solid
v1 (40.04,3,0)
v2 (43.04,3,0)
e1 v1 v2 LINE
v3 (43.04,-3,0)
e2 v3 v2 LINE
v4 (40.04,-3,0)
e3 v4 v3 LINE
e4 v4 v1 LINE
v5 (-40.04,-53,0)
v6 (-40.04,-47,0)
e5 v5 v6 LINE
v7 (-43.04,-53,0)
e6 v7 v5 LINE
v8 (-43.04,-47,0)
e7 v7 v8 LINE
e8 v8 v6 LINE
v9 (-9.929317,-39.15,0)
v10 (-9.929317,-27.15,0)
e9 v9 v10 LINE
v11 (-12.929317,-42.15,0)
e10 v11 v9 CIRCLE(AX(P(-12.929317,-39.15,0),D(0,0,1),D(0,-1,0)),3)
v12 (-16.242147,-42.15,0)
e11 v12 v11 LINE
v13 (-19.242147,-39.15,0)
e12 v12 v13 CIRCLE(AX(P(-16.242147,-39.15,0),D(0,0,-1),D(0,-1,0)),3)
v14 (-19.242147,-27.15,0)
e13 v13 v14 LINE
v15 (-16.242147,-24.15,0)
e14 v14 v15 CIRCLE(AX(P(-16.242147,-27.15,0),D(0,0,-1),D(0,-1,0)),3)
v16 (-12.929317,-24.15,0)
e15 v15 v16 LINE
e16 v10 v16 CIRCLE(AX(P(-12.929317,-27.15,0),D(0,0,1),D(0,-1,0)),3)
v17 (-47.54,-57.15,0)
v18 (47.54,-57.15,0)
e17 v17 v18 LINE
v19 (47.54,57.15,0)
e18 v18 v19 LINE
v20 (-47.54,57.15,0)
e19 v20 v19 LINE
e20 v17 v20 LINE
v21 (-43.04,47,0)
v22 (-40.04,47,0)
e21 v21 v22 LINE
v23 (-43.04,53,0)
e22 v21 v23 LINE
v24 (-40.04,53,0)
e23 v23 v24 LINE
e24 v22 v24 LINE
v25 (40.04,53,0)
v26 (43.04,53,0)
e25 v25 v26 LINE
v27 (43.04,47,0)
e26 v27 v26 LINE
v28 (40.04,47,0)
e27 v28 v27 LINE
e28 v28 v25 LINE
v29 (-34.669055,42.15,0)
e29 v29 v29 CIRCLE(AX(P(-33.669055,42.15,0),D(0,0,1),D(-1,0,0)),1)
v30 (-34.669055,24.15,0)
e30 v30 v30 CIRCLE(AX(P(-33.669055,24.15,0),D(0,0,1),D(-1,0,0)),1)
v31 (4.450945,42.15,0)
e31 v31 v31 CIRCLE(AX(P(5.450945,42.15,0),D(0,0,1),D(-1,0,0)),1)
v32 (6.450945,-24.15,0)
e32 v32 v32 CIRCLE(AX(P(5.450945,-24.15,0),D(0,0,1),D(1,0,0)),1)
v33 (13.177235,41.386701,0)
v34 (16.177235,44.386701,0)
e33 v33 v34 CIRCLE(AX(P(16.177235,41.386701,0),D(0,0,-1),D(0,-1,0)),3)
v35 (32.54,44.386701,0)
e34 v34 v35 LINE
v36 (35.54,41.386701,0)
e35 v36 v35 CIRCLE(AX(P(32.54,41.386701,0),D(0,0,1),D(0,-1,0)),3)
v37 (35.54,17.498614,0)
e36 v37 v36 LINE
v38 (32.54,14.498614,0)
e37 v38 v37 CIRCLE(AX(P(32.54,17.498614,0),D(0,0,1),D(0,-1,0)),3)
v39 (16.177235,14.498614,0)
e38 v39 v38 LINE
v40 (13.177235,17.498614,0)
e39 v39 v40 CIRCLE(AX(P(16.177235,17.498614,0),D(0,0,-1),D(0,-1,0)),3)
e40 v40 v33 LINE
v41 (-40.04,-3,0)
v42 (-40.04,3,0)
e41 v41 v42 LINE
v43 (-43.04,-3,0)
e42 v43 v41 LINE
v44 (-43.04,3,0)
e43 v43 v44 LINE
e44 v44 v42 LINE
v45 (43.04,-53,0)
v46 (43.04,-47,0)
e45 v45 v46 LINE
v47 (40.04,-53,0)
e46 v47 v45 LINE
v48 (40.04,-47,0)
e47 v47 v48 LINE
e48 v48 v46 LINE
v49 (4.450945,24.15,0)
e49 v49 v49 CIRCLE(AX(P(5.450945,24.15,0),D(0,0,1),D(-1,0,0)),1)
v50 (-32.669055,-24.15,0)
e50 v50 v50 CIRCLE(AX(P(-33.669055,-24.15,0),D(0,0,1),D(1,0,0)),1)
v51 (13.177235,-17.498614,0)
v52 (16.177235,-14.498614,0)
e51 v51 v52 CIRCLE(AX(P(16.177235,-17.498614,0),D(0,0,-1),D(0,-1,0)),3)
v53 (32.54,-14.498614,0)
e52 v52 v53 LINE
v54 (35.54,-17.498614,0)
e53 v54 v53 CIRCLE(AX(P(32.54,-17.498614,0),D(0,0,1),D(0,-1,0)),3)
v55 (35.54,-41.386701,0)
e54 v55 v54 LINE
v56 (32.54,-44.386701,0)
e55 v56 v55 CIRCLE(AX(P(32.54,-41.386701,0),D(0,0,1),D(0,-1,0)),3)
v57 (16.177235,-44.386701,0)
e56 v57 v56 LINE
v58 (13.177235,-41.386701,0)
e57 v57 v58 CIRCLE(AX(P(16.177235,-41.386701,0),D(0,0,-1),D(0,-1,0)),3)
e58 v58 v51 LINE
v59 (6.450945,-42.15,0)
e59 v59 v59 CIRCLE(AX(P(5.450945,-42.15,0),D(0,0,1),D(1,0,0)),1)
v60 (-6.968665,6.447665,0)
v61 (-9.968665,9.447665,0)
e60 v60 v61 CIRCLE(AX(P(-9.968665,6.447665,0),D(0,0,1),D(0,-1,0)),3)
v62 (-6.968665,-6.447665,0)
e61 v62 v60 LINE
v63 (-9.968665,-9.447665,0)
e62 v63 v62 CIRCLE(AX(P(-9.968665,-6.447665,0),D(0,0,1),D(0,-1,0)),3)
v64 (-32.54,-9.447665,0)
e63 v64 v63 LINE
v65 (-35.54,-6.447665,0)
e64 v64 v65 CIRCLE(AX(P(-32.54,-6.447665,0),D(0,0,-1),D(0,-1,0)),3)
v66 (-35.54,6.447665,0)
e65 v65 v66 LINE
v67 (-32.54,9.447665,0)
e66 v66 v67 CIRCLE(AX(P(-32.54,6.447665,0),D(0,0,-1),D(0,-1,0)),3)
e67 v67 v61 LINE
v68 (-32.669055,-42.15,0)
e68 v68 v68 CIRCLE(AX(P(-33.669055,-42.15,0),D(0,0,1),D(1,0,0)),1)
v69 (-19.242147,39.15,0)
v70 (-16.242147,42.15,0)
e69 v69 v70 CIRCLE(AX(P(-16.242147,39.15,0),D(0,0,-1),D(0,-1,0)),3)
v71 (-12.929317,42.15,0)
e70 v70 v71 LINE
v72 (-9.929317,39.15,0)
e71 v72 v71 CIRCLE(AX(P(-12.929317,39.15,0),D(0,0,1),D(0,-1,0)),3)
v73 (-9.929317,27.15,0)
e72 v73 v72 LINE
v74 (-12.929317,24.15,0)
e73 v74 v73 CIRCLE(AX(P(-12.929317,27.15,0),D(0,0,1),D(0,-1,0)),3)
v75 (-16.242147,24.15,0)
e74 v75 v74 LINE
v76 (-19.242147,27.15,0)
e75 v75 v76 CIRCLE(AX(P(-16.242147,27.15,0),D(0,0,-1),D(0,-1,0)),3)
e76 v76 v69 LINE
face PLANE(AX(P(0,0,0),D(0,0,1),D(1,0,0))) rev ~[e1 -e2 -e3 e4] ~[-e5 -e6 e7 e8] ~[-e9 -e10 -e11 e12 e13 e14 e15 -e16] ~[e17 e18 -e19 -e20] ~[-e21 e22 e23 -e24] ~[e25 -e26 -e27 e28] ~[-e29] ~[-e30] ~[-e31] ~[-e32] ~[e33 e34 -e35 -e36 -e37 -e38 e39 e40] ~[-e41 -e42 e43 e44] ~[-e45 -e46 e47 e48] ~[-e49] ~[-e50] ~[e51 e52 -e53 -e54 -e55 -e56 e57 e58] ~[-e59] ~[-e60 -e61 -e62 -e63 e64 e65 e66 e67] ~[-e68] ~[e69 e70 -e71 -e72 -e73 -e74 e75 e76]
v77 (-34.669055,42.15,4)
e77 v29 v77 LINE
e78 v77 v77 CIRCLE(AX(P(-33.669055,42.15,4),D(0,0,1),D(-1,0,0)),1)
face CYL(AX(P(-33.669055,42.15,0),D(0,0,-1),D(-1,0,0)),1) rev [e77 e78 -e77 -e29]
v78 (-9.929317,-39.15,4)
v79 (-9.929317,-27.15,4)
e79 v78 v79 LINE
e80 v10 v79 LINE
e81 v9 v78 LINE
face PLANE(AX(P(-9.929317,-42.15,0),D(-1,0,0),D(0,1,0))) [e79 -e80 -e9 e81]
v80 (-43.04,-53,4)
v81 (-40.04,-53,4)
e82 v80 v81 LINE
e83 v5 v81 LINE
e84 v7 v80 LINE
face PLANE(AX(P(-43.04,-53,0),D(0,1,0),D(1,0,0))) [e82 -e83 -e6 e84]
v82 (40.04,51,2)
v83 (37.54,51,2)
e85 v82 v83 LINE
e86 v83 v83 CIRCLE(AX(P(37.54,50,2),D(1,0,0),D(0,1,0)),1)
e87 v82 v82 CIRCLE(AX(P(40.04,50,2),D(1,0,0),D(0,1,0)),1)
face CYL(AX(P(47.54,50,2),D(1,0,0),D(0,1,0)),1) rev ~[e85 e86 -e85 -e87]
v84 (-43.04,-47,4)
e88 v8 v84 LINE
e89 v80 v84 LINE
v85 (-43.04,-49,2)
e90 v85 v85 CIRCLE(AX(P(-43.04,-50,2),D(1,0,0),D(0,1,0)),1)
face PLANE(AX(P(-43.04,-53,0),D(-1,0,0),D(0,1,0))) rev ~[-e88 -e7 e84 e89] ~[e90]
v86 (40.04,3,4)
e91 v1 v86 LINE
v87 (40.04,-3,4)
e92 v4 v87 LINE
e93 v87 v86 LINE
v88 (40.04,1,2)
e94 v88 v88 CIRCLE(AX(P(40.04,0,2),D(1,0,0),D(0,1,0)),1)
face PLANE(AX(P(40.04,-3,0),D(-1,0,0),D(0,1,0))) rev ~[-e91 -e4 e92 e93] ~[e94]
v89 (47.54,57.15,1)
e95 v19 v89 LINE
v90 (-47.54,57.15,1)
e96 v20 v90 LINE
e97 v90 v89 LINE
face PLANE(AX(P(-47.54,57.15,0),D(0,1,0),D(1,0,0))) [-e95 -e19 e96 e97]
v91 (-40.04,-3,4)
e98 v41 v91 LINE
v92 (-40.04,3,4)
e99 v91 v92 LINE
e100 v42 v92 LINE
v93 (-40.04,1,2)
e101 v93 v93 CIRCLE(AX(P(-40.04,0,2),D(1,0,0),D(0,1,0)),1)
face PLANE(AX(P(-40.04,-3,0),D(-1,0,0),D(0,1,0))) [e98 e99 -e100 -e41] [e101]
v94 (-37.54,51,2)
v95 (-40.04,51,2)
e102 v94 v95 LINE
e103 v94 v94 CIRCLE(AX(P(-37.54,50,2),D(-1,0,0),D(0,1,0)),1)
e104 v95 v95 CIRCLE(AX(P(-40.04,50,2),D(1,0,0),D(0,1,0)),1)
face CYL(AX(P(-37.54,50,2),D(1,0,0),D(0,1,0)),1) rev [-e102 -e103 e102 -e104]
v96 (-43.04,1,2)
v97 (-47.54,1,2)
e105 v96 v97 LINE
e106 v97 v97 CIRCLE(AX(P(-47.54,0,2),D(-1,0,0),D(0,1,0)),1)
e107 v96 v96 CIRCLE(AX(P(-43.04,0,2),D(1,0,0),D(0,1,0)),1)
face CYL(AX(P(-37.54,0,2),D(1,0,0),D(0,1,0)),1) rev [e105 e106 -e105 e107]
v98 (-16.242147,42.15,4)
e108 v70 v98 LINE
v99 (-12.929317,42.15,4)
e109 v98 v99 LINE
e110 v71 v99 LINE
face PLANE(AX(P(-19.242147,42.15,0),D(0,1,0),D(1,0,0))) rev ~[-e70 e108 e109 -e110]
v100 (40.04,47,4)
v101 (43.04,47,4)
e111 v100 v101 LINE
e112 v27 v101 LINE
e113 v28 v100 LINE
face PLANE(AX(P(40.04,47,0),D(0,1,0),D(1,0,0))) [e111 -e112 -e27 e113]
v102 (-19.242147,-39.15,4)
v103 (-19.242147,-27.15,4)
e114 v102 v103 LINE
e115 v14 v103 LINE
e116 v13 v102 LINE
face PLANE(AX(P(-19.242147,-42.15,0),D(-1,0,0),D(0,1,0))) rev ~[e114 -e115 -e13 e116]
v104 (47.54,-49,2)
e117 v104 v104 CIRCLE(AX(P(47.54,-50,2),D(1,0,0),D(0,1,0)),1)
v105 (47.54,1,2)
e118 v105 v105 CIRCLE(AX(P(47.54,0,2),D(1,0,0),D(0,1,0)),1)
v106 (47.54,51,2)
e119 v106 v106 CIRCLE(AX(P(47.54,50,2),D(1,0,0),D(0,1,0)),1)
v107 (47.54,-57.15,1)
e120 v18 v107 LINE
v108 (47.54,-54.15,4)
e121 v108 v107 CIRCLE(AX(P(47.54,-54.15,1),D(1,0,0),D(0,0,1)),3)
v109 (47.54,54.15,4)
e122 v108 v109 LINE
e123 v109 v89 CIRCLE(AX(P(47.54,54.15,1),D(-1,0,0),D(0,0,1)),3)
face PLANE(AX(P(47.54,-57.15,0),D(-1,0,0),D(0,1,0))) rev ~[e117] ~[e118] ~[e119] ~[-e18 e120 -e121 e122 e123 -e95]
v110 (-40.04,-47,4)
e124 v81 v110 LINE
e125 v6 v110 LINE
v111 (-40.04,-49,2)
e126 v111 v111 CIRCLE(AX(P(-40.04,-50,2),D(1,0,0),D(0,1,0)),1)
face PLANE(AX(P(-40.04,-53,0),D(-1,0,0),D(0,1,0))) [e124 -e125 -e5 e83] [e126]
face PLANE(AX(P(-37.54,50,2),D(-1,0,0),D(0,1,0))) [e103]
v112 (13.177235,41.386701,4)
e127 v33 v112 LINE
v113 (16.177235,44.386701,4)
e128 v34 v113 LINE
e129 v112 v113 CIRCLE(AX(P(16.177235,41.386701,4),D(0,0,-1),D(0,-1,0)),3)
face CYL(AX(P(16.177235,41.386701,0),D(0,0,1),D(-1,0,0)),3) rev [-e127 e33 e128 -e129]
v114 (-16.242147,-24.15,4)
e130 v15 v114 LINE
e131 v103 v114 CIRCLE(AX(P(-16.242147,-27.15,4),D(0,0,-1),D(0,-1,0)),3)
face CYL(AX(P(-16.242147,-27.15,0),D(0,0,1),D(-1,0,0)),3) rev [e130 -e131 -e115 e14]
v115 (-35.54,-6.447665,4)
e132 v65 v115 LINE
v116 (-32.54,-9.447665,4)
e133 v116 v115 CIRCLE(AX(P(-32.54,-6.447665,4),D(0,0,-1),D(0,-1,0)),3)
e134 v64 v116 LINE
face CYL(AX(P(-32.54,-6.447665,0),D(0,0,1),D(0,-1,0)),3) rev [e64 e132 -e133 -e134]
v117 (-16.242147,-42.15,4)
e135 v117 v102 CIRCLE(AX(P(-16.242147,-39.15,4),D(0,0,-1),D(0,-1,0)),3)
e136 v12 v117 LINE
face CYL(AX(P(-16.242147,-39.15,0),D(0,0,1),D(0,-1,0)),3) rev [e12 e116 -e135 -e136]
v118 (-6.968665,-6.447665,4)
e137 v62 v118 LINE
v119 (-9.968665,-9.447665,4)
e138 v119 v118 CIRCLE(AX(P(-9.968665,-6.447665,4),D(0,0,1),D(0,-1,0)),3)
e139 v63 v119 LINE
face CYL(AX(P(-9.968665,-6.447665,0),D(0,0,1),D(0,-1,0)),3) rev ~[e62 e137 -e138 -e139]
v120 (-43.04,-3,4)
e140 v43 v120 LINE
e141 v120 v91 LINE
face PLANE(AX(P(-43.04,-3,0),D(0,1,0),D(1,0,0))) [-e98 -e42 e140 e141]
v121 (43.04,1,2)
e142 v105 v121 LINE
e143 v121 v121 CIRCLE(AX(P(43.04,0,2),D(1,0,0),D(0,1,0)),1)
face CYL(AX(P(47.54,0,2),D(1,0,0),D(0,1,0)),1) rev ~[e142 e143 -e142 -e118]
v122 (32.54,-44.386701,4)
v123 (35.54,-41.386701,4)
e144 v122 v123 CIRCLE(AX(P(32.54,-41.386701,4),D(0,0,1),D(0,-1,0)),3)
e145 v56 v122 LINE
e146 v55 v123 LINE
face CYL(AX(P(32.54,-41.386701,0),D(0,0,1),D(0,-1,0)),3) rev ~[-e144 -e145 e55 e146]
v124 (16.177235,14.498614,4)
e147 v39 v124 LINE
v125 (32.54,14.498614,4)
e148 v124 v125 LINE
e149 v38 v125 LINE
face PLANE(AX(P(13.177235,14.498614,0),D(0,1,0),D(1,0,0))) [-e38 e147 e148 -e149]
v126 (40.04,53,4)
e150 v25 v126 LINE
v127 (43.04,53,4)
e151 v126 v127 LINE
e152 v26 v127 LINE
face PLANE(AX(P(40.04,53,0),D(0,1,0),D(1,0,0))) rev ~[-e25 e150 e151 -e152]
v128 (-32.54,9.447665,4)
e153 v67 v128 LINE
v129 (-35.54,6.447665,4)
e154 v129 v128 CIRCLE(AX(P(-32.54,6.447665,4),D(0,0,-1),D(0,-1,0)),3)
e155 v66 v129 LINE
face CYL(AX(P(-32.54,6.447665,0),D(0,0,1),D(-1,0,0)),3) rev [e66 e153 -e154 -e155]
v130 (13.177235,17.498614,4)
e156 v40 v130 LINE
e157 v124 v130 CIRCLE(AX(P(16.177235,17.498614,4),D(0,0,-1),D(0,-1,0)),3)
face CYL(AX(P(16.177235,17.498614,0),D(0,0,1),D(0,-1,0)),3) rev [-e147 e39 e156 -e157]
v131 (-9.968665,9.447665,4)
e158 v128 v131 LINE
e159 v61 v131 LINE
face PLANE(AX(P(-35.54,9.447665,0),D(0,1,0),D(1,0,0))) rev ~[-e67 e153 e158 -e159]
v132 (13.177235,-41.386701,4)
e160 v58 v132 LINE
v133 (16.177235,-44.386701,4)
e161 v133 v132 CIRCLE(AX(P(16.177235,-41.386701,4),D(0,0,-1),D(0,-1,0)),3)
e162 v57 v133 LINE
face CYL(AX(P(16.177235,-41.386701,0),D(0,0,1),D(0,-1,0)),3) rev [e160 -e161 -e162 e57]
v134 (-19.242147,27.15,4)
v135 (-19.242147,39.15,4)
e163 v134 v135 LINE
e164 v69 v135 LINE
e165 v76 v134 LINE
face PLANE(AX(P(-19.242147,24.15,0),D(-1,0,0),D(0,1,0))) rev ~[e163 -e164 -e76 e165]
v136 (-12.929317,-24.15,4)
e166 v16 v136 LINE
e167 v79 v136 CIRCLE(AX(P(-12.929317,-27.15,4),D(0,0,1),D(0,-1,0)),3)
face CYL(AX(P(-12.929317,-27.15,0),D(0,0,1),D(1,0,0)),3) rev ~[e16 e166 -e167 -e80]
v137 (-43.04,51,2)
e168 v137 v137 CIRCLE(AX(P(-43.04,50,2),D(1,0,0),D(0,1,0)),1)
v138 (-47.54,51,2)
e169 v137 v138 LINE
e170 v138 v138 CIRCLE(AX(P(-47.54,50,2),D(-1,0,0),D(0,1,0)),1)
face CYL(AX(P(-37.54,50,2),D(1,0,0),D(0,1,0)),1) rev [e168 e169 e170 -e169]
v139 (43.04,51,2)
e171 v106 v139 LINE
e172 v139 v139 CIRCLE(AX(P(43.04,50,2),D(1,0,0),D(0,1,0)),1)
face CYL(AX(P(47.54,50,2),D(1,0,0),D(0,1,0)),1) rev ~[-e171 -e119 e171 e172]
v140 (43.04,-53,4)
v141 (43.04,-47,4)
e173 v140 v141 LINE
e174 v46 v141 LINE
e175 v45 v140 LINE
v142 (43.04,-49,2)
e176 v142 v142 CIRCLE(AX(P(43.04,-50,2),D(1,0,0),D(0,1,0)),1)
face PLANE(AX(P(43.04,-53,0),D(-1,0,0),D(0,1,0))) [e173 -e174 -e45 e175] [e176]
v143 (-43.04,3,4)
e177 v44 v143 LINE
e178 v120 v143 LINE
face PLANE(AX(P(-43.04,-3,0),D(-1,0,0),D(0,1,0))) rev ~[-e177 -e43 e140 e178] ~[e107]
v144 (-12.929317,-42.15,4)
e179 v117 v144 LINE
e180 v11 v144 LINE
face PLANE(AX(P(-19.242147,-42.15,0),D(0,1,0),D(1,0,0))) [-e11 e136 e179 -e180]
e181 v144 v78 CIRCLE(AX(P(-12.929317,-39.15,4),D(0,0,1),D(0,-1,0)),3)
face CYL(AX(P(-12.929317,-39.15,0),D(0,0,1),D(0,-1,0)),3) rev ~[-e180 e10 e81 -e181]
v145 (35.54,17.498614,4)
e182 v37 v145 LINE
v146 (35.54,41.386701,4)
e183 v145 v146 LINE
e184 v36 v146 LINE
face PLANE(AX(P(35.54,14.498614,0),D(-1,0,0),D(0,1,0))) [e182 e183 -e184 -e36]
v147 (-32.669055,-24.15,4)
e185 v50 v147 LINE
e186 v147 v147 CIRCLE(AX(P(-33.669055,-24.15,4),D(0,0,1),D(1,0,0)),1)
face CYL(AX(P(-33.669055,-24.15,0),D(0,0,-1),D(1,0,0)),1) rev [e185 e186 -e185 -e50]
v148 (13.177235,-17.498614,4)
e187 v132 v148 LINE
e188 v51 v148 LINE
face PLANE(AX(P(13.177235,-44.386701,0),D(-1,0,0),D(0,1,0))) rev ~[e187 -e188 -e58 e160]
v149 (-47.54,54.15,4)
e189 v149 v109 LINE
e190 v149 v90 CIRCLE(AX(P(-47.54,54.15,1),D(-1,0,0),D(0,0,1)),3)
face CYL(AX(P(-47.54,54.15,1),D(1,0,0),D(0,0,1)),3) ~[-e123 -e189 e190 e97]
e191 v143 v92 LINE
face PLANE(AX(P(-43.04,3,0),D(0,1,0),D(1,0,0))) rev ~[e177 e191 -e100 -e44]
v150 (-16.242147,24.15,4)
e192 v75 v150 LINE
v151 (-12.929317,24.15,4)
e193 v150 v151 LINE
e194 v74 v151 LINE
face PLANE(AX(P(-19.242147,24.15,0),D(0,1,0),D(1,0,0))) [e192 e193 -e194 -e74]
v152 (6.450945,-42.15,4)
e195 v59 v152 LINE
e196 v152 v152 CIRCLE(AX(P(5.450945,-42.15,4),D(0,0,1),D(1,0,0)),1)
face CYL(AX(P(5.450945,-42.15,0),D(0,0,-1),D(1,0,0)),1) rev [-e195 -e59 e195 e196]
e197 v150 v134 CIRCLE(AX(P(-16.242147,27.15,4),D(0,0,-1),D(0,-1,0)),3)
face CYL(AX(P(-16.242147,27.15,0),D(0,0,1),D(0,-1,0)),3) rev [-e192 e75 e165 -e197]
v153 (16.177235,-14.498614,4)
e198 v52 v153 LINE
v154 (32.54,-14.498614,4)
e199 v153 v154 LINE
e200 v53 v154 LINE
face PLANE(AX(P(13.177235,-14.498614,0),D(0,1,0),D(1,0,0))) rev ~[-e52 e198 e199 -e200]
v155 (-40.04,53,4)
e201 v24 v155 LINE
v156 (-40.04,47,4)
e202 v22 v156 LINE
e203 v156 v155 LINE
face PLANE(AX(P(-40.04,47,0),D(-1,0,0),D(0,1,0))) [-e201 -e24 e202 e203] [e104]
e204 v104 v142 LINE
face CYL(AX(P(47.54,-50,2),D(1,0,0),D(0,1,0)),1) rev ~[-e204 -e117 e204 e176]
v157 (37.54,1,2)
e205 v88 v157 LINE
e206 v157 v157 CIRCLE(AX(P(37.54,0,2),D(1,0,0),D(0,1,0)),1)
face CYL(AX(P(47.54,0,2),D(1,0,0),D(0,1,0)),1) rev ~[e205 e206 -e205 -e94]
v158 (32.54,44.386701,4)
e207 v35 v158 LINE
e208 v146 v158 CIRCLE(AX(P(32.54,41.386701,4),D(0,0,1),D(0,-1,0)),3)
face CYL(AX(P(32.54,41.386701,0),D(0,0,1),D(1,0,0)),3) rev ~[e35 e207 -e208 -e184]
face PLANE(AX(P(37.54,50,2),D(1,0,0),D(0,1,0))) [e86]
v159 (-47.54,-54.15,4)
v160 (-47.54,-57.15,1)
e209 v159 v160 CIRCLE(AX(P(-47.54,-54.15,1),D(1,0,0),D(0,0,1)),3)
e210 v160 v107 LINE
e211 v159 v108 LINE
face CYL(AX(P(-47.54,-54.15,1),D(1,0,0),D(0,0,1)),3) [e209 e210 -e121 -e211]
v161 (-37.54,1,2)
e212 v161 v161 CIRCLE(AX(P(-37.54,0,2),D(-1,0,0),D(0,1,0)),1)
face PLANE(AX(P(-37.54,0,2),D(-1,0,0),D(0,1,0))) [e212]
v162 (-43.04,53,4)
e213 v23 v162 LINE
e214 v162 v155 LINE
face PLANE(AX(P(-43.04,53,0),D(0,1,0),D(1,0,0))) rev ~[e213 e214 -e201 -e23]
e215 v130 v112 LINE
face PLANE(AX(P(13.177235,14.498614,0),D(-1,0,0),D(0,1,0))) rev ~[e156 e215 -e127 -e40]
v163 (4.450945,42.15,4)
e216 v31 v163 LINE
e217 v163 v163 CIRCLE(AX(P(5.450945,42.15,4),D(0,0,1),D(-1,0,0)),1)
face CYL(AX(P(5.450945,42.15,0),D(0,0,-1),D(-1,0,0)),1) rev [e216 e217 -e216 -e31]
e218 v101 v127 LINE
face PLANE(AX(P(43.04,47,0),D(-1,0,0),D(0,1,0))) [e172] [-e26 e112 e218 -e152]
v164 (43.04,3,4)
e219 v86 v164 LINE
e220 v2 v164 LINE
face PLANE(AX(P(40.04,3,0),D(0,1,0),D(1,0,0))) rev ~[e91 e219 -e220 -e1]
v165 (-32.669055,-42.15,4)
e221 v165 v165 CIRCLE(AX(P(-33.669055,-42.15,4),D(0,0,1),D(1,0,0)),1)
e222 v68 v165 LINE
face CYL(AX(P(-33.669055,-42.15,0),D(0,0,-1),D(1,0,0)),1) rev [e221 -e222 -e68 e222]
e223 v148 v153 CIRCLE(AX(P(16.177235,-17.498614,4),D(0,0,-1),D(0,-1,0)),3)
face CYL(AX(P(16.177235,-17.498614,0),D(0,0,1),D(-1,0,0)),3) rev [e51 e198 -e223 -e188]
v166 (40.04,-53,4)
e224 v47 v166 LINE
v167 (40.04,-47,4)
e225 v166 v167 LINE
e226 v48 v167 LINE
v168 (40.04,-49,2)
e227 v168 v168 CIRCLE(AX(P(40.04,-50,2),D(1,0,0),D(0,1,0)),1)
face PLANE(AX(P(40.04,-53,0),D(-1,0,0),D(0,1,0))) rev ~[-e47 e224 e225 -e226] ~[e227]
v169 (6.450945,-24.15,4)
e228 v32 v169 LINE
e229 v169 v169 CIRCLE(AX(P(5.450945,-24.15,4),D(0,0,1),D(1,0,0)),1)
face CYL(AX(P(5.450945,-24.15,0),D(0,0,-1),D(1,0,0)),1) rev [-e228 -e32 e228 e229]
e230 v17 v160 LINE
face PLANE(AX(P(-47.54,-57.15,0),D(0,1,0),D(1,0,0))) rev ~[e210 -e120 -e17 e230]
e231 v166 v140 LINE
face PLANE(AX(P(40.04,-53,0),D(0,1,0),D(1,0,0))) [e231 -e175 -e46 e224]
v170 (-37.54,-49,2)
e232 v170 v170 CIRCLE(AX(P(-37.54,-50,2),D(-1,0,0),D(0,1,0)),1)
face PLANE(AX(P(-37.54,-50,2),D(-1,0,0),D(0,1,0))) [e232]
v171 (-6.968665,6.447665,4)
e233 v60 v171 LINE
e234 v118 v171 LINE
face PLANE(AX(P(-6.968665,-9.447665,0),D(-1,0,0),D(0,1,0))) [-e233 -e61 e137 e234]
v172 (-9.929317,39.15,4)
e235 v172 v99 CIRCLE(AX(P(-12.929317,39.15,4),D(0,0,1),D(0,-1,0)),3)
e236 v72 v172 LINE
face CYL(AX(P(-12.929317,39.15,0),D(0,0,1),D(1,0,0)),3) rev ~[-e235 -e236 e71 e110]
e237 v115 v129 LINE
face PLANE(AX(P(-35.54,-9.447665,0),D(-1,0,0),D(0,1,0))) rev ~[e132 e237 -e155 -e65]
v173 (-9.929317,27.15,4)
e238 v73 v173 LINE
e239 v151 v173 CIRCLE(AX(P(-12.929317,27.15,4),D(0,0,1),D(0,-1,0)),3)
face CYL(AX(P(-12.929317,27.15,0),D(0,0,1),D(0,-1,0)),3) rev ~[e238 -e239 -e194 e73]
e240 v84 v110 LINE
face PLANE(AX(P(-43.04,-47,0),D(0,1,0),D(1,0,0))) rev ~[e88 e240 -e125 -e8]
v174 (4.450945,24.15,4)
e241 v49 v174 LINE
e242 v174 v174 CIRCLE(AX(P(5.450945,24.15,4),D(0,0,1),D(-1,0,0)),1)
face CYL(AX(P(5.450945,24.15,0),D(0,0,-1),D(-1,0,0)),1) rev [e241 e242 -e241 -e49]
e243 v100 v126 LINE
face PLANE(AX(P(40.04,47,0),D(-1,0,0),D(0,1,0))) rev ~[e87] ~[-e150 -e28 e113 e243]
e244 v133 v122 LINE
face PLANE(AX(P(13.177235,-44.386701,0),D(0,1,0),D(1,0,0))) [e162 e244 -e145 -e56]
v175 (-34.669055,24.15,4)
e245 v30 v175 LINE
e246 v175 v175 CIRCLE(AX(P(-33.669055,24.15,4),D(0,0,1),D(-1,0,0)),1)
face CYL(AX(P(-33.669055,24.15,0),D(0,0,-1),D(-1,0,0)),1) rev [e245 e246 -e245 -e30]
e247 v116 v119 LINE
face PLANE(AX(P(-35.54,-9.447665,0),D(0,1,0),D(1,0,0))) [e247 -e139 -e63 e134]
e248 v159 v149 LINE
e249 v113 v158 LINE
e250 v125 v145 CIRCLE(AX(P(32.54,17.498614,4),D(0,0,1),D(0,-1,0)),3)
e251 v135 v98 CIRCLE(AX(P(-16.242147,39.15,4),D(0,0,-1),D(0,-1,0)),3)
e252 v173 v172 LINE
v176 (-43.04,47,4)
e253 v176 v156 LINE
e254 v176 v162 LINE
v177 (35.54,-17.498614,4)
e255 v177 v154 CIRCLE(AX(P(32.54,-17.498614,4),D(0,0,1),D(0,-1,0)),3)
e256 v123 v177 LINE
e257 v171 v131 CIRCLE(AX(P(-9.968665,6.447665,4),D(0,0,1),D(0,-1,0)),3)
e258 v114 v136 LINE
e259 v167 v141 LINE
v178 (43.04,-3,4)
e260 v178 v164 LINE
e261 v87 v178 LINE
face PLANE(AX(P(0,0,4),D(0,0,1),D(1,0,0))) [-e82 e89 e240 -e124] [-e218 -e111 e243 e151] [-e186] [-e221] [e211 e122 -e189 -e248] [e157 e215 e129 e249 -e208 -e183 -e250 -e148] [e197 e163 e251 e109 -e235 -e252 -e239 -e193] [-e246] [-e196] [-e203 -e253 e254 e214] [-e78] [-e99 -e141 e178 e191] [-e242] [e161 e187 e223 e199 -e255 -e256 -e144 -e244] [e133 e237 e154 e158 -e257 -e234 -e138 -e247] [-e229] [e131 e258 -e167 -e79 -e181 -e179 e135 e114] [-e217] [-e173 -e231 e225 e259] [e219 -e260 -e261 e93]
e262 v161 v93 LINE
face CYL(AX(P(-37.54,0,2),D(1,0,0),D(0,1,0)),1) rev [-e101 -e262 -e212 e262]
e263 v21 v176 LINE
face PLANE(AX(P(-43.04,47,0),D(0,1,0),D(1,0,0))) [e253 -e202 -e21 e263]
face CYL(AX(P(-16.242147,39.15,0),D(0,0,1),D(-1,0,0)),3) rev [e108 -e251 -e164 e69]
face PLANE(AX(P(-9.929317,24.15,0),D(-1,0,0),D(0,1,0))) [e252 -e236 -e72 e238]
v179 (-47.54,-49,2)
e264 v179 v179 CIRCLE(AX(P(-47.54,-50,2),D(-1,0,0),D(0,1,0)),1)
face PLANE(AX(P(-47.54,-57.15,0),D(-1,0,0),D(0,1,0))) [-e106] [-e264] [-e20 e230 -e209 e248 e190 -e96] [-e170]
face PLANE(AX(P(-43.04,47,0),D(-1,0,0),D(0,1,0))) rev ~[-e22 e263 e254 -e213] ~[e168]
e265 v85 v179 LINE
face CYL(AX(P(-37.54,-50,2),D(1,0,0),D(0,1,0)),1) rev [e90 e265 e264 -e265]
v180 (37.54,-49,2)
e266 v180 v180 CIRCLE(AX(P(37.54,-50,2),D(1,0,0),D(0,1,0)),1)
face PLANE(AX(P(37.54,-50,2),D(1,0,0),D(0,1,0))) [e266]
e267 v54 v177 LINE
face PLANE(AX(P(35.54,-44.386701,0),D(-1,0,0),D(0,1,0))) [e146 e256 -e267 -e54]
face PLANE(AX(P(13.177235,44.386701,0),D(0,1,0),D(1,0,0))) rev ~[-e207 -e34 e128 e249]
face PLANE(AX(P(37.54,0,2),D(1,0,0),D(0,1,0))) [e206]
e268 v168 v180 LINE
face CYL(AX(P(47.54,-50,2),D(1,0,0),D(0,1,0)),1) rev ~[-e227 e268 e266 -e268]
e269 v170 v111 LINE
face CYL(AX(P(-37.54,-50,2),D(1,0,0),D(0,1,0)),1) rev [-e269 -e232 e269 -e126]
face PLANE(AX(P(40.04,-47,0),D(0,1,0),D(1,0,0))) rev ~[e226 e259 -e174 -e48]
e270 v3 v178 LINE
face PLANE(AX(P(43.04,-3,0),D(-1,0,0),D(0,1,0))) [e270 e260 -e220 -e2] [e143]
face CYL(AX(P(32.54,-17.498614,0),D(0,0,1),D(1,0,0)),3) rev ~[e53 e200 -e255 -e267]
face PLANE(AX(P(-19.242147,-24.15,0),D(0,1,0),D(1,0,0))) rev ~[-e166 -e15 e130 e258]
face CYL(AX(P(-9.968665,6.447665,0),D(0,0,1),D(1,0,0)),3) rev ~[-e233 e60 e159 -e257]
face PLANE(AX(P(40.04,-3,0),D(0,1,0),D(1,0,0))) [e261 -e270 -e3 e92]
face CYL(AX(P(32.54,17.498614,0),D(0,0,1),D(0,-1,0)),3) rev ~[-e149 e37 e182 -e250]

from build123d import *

# Parameters (mm, degrees)
ESQUISSE2_W             = 95.08
ESQUISSE2_H             = 114.3
ESQUISSE2_R             = 1
ESQUISSE2_W_2           = 22.362765252
ESQUISSE2_H_2           = 29.888087148
ESQUISSE2_W_3           = 9.312830524
ESQUISSE2_H_3           = 18
ESQUISSE2_W_4           = 28.571334831
ESQUISSE2_H_4           = 18.895330988
ESQUISSE2_W_5           = 3
ESQUISSE2_H_5           = 6
BOSS_EXTRU_1_DEPTH      = 4
CONG_1_R                = 3
ESQUISSE3_R             = 1
ENL_V_MAT_EXTRU_1_DEPTH = 10
ENL_V_START             = -10
ESQUISSE4_R             = 1
ENL_V_MAT_EXTRU_2_DEPTH = 10
CONG_2_R                = 3


with BuildPart() as part:
    # Esquisse2 → Boss.-Extru.1 (new body)
    with BuildSketch(Plane.XY):
        Rectangle(ESQUISSE2_W, ESQUISSE2_H)
        with Locations((-33.669054573, -42.15)):
            Circle(ESQUISSE2_R, mode=Mode.SUBTRACT)
        with Locations((5.450945427, -42.15)):
            Circle(ESQUISSE2_R, mode=Mode.SUBTRACT)
        with Locations((5.450945427, -24.15)):
            Circle(ESQUISSE2_R, mode=Mode.SUBTRACT)
        with Locations((-33.669054573, -24.15)):
            Circle(ESQUISSE2_R, mode=Mode.SUBTRACT)
        with Locations(Location((-33.669054573, 24.15, 0), (0, 0, 180))):
            Circle(ESQUISSE2_R, mode=Mode.SUBTRACT)
        with Locations(Location((5.450945427, 24.15, 0), (0, 0, 180))):
            Circle(ESQUISSE2_R, mode=Mode.SUBTRACT)
        with Locations(Location((5.450945427, 42.15, 0), (0, 0, 180))):
            Circle(ESQUISSE2_R, mode=Mode.SUBTRACT)
        with Locations(Location((-33.669054573, 42.15, 0), (0, 0, 180))):
            Circle(ESQUISSE2_R, mode=Mode.SUBTRACT)
        with Locations((24.358617374, 29.442657314)):
            Rectangle(ESQUISSE2_W_2, ESQUISSE2_H_2, mode=Mode.SUBTRACT)
        with Locations((-14.585732185, 33.15)):
            Rectangle(ESQUISSE2_W_3, ESQUISSE2_H_3, mode=Mode.SUBTRACT)
        with Locations((-14.585732185, -33.15)):
            Rectangle(ESQUISSE2_W_3, ESQUISSE2_H_3, mode=Mode.SUBTRACT)
        with Locations((-21.254332584, 0)):
            Rectangle(ESQUISSE2_W_4, ESQUISSE2_H_4, mode=Mode.SUBTRACT)
        with Locations((24.358617374, -29.442657314)):
            Rectangle(ESQUISSE2_W_2, ESQUISSE2_H_2, mode=Mode.SUBTRACT)
        with Locations((41.54, 0)):
            Rectangle(ESQUISSE2_W_5, ESQUISSE2_H_5, mode=Mode.SUBTRACT)
        with Locations((41.54, -50)):
            Rectangle(ESQUISSE2_W_5, ESQUISSE2_H_5, mode=Mode.SUBTRACT)
        with Locations((41.54, 50)):
            Rectangle(ESQUISSE2_W_5, ESQUISSE2_H_5, mode=Mode.SUBTRACT)
        with Locations((-41.54, 50)):
            Rectangle(ESQUISSE2_W_5, ESQUISSE2_H_5, mode=Mode.SUBTRACT)
        with Locations((-41.54, 0)):
            Rectangle(ESQUISSE2_W_5, ESQUISSE2_H_5, mode=Mode.SUBTRACT)
        with Locations((-41.54, -50)):
            Rectangle(ESQUISSE2_W_5, ESQUISSE2_H_5, mode=Mode.SUBTRACT)
    extrude(amount=BOSS_EXTRU_1_DEPTH)

    # Congé1
    cong_1_edges = [part.edges().sort_by_distance(p)[0] for p in [
        (-9.929316923, 24.15, 2),
        (-9.929316923, 42.15, 2),
        (-19.242147447, 42.15, 2),
        (-19.242147447, 24.15, 2),
        (-9.929316923, -42.15, 2),
        (-9.929316923, -24.15, 2),
        (-19.242147447, -24.15, 2),
        (-19.242147447, -42.15, 2),
        (-35.54, 9.447665494, 2),
        (-35.54, -9.447665494, 2),
        (-6.968665169, -9.447665494, 2),
        (-6.968665169, 9.447665494, 2),
        (35.54, -44.386700888, 2),
        (35.54, -14.49861374, 2),
        (13.177234748, -14.49861374, 2),
        (13.177234748, -44.386700888, 2),
        (35.54, 14.49861374, 2),
        (35.54, 44.386700888, 2),
        (13.177234748, 44.386700888, 2),
        (13.177234748, 14.49861374, 2),
    ]]
    fillet(cong_1_edges, radius=CONG_1_R)

    # Esquisse3 → Enlèv. mat.-Extru.1 (cut)
    with BuildSketch(Plane(origin=(47.54, 0, 0), x_dir=(0, 0, -1), z_dir=(1, 0, 0))):
        with Locations(Location((-2, 50, 0), (0, 0, 90))):
            Circle(ESQUISSE3_R)
        with Locations(Location((-2, 0, 0), (0, 0, 90))):
            Circle(ESQUISSE3_R)
        with Locations(Location((-2, -50, 0), (0, 0, 90))):
            Circle(ESQUISSE3_R)
    extrude(amount=-ENL_V_MAT_EXTRU_1_DEPTH, mode=Mode.SUBTRACT)

    # Esquisse4 → Enlèv. mat.-Extru.2 (cut)
    with BuildSketch(Plane.ZY.offset(47.54).offset(ENL_V_START)):
        with Locations(Location((2, 50, 0), (0, 0, 90))):
            Circle(ESQUISSE4_R)
        with Locations(Location((2, 0, 0), (0, 0, 90))):
            Circle(ESQUISSE4_R)
        with Locations(Location((2, -50, 0), (0, 0, 90))):
            Circle(ESQUISSE4_R)
    extrude(amount=ENL_V_MAT_EXTRU_2_DEPTH, mode=Mode.SUBTRACT)

    # Congé2
    cong_2_edges = [part.edges().sort_by_distance(p)[0] for p in [
        (0, -57.15, 4),
        (0, 57.15, 4),
    ]]
    fillet(cong_2_edges, radius=CONG_2_R)


solid = part.part
